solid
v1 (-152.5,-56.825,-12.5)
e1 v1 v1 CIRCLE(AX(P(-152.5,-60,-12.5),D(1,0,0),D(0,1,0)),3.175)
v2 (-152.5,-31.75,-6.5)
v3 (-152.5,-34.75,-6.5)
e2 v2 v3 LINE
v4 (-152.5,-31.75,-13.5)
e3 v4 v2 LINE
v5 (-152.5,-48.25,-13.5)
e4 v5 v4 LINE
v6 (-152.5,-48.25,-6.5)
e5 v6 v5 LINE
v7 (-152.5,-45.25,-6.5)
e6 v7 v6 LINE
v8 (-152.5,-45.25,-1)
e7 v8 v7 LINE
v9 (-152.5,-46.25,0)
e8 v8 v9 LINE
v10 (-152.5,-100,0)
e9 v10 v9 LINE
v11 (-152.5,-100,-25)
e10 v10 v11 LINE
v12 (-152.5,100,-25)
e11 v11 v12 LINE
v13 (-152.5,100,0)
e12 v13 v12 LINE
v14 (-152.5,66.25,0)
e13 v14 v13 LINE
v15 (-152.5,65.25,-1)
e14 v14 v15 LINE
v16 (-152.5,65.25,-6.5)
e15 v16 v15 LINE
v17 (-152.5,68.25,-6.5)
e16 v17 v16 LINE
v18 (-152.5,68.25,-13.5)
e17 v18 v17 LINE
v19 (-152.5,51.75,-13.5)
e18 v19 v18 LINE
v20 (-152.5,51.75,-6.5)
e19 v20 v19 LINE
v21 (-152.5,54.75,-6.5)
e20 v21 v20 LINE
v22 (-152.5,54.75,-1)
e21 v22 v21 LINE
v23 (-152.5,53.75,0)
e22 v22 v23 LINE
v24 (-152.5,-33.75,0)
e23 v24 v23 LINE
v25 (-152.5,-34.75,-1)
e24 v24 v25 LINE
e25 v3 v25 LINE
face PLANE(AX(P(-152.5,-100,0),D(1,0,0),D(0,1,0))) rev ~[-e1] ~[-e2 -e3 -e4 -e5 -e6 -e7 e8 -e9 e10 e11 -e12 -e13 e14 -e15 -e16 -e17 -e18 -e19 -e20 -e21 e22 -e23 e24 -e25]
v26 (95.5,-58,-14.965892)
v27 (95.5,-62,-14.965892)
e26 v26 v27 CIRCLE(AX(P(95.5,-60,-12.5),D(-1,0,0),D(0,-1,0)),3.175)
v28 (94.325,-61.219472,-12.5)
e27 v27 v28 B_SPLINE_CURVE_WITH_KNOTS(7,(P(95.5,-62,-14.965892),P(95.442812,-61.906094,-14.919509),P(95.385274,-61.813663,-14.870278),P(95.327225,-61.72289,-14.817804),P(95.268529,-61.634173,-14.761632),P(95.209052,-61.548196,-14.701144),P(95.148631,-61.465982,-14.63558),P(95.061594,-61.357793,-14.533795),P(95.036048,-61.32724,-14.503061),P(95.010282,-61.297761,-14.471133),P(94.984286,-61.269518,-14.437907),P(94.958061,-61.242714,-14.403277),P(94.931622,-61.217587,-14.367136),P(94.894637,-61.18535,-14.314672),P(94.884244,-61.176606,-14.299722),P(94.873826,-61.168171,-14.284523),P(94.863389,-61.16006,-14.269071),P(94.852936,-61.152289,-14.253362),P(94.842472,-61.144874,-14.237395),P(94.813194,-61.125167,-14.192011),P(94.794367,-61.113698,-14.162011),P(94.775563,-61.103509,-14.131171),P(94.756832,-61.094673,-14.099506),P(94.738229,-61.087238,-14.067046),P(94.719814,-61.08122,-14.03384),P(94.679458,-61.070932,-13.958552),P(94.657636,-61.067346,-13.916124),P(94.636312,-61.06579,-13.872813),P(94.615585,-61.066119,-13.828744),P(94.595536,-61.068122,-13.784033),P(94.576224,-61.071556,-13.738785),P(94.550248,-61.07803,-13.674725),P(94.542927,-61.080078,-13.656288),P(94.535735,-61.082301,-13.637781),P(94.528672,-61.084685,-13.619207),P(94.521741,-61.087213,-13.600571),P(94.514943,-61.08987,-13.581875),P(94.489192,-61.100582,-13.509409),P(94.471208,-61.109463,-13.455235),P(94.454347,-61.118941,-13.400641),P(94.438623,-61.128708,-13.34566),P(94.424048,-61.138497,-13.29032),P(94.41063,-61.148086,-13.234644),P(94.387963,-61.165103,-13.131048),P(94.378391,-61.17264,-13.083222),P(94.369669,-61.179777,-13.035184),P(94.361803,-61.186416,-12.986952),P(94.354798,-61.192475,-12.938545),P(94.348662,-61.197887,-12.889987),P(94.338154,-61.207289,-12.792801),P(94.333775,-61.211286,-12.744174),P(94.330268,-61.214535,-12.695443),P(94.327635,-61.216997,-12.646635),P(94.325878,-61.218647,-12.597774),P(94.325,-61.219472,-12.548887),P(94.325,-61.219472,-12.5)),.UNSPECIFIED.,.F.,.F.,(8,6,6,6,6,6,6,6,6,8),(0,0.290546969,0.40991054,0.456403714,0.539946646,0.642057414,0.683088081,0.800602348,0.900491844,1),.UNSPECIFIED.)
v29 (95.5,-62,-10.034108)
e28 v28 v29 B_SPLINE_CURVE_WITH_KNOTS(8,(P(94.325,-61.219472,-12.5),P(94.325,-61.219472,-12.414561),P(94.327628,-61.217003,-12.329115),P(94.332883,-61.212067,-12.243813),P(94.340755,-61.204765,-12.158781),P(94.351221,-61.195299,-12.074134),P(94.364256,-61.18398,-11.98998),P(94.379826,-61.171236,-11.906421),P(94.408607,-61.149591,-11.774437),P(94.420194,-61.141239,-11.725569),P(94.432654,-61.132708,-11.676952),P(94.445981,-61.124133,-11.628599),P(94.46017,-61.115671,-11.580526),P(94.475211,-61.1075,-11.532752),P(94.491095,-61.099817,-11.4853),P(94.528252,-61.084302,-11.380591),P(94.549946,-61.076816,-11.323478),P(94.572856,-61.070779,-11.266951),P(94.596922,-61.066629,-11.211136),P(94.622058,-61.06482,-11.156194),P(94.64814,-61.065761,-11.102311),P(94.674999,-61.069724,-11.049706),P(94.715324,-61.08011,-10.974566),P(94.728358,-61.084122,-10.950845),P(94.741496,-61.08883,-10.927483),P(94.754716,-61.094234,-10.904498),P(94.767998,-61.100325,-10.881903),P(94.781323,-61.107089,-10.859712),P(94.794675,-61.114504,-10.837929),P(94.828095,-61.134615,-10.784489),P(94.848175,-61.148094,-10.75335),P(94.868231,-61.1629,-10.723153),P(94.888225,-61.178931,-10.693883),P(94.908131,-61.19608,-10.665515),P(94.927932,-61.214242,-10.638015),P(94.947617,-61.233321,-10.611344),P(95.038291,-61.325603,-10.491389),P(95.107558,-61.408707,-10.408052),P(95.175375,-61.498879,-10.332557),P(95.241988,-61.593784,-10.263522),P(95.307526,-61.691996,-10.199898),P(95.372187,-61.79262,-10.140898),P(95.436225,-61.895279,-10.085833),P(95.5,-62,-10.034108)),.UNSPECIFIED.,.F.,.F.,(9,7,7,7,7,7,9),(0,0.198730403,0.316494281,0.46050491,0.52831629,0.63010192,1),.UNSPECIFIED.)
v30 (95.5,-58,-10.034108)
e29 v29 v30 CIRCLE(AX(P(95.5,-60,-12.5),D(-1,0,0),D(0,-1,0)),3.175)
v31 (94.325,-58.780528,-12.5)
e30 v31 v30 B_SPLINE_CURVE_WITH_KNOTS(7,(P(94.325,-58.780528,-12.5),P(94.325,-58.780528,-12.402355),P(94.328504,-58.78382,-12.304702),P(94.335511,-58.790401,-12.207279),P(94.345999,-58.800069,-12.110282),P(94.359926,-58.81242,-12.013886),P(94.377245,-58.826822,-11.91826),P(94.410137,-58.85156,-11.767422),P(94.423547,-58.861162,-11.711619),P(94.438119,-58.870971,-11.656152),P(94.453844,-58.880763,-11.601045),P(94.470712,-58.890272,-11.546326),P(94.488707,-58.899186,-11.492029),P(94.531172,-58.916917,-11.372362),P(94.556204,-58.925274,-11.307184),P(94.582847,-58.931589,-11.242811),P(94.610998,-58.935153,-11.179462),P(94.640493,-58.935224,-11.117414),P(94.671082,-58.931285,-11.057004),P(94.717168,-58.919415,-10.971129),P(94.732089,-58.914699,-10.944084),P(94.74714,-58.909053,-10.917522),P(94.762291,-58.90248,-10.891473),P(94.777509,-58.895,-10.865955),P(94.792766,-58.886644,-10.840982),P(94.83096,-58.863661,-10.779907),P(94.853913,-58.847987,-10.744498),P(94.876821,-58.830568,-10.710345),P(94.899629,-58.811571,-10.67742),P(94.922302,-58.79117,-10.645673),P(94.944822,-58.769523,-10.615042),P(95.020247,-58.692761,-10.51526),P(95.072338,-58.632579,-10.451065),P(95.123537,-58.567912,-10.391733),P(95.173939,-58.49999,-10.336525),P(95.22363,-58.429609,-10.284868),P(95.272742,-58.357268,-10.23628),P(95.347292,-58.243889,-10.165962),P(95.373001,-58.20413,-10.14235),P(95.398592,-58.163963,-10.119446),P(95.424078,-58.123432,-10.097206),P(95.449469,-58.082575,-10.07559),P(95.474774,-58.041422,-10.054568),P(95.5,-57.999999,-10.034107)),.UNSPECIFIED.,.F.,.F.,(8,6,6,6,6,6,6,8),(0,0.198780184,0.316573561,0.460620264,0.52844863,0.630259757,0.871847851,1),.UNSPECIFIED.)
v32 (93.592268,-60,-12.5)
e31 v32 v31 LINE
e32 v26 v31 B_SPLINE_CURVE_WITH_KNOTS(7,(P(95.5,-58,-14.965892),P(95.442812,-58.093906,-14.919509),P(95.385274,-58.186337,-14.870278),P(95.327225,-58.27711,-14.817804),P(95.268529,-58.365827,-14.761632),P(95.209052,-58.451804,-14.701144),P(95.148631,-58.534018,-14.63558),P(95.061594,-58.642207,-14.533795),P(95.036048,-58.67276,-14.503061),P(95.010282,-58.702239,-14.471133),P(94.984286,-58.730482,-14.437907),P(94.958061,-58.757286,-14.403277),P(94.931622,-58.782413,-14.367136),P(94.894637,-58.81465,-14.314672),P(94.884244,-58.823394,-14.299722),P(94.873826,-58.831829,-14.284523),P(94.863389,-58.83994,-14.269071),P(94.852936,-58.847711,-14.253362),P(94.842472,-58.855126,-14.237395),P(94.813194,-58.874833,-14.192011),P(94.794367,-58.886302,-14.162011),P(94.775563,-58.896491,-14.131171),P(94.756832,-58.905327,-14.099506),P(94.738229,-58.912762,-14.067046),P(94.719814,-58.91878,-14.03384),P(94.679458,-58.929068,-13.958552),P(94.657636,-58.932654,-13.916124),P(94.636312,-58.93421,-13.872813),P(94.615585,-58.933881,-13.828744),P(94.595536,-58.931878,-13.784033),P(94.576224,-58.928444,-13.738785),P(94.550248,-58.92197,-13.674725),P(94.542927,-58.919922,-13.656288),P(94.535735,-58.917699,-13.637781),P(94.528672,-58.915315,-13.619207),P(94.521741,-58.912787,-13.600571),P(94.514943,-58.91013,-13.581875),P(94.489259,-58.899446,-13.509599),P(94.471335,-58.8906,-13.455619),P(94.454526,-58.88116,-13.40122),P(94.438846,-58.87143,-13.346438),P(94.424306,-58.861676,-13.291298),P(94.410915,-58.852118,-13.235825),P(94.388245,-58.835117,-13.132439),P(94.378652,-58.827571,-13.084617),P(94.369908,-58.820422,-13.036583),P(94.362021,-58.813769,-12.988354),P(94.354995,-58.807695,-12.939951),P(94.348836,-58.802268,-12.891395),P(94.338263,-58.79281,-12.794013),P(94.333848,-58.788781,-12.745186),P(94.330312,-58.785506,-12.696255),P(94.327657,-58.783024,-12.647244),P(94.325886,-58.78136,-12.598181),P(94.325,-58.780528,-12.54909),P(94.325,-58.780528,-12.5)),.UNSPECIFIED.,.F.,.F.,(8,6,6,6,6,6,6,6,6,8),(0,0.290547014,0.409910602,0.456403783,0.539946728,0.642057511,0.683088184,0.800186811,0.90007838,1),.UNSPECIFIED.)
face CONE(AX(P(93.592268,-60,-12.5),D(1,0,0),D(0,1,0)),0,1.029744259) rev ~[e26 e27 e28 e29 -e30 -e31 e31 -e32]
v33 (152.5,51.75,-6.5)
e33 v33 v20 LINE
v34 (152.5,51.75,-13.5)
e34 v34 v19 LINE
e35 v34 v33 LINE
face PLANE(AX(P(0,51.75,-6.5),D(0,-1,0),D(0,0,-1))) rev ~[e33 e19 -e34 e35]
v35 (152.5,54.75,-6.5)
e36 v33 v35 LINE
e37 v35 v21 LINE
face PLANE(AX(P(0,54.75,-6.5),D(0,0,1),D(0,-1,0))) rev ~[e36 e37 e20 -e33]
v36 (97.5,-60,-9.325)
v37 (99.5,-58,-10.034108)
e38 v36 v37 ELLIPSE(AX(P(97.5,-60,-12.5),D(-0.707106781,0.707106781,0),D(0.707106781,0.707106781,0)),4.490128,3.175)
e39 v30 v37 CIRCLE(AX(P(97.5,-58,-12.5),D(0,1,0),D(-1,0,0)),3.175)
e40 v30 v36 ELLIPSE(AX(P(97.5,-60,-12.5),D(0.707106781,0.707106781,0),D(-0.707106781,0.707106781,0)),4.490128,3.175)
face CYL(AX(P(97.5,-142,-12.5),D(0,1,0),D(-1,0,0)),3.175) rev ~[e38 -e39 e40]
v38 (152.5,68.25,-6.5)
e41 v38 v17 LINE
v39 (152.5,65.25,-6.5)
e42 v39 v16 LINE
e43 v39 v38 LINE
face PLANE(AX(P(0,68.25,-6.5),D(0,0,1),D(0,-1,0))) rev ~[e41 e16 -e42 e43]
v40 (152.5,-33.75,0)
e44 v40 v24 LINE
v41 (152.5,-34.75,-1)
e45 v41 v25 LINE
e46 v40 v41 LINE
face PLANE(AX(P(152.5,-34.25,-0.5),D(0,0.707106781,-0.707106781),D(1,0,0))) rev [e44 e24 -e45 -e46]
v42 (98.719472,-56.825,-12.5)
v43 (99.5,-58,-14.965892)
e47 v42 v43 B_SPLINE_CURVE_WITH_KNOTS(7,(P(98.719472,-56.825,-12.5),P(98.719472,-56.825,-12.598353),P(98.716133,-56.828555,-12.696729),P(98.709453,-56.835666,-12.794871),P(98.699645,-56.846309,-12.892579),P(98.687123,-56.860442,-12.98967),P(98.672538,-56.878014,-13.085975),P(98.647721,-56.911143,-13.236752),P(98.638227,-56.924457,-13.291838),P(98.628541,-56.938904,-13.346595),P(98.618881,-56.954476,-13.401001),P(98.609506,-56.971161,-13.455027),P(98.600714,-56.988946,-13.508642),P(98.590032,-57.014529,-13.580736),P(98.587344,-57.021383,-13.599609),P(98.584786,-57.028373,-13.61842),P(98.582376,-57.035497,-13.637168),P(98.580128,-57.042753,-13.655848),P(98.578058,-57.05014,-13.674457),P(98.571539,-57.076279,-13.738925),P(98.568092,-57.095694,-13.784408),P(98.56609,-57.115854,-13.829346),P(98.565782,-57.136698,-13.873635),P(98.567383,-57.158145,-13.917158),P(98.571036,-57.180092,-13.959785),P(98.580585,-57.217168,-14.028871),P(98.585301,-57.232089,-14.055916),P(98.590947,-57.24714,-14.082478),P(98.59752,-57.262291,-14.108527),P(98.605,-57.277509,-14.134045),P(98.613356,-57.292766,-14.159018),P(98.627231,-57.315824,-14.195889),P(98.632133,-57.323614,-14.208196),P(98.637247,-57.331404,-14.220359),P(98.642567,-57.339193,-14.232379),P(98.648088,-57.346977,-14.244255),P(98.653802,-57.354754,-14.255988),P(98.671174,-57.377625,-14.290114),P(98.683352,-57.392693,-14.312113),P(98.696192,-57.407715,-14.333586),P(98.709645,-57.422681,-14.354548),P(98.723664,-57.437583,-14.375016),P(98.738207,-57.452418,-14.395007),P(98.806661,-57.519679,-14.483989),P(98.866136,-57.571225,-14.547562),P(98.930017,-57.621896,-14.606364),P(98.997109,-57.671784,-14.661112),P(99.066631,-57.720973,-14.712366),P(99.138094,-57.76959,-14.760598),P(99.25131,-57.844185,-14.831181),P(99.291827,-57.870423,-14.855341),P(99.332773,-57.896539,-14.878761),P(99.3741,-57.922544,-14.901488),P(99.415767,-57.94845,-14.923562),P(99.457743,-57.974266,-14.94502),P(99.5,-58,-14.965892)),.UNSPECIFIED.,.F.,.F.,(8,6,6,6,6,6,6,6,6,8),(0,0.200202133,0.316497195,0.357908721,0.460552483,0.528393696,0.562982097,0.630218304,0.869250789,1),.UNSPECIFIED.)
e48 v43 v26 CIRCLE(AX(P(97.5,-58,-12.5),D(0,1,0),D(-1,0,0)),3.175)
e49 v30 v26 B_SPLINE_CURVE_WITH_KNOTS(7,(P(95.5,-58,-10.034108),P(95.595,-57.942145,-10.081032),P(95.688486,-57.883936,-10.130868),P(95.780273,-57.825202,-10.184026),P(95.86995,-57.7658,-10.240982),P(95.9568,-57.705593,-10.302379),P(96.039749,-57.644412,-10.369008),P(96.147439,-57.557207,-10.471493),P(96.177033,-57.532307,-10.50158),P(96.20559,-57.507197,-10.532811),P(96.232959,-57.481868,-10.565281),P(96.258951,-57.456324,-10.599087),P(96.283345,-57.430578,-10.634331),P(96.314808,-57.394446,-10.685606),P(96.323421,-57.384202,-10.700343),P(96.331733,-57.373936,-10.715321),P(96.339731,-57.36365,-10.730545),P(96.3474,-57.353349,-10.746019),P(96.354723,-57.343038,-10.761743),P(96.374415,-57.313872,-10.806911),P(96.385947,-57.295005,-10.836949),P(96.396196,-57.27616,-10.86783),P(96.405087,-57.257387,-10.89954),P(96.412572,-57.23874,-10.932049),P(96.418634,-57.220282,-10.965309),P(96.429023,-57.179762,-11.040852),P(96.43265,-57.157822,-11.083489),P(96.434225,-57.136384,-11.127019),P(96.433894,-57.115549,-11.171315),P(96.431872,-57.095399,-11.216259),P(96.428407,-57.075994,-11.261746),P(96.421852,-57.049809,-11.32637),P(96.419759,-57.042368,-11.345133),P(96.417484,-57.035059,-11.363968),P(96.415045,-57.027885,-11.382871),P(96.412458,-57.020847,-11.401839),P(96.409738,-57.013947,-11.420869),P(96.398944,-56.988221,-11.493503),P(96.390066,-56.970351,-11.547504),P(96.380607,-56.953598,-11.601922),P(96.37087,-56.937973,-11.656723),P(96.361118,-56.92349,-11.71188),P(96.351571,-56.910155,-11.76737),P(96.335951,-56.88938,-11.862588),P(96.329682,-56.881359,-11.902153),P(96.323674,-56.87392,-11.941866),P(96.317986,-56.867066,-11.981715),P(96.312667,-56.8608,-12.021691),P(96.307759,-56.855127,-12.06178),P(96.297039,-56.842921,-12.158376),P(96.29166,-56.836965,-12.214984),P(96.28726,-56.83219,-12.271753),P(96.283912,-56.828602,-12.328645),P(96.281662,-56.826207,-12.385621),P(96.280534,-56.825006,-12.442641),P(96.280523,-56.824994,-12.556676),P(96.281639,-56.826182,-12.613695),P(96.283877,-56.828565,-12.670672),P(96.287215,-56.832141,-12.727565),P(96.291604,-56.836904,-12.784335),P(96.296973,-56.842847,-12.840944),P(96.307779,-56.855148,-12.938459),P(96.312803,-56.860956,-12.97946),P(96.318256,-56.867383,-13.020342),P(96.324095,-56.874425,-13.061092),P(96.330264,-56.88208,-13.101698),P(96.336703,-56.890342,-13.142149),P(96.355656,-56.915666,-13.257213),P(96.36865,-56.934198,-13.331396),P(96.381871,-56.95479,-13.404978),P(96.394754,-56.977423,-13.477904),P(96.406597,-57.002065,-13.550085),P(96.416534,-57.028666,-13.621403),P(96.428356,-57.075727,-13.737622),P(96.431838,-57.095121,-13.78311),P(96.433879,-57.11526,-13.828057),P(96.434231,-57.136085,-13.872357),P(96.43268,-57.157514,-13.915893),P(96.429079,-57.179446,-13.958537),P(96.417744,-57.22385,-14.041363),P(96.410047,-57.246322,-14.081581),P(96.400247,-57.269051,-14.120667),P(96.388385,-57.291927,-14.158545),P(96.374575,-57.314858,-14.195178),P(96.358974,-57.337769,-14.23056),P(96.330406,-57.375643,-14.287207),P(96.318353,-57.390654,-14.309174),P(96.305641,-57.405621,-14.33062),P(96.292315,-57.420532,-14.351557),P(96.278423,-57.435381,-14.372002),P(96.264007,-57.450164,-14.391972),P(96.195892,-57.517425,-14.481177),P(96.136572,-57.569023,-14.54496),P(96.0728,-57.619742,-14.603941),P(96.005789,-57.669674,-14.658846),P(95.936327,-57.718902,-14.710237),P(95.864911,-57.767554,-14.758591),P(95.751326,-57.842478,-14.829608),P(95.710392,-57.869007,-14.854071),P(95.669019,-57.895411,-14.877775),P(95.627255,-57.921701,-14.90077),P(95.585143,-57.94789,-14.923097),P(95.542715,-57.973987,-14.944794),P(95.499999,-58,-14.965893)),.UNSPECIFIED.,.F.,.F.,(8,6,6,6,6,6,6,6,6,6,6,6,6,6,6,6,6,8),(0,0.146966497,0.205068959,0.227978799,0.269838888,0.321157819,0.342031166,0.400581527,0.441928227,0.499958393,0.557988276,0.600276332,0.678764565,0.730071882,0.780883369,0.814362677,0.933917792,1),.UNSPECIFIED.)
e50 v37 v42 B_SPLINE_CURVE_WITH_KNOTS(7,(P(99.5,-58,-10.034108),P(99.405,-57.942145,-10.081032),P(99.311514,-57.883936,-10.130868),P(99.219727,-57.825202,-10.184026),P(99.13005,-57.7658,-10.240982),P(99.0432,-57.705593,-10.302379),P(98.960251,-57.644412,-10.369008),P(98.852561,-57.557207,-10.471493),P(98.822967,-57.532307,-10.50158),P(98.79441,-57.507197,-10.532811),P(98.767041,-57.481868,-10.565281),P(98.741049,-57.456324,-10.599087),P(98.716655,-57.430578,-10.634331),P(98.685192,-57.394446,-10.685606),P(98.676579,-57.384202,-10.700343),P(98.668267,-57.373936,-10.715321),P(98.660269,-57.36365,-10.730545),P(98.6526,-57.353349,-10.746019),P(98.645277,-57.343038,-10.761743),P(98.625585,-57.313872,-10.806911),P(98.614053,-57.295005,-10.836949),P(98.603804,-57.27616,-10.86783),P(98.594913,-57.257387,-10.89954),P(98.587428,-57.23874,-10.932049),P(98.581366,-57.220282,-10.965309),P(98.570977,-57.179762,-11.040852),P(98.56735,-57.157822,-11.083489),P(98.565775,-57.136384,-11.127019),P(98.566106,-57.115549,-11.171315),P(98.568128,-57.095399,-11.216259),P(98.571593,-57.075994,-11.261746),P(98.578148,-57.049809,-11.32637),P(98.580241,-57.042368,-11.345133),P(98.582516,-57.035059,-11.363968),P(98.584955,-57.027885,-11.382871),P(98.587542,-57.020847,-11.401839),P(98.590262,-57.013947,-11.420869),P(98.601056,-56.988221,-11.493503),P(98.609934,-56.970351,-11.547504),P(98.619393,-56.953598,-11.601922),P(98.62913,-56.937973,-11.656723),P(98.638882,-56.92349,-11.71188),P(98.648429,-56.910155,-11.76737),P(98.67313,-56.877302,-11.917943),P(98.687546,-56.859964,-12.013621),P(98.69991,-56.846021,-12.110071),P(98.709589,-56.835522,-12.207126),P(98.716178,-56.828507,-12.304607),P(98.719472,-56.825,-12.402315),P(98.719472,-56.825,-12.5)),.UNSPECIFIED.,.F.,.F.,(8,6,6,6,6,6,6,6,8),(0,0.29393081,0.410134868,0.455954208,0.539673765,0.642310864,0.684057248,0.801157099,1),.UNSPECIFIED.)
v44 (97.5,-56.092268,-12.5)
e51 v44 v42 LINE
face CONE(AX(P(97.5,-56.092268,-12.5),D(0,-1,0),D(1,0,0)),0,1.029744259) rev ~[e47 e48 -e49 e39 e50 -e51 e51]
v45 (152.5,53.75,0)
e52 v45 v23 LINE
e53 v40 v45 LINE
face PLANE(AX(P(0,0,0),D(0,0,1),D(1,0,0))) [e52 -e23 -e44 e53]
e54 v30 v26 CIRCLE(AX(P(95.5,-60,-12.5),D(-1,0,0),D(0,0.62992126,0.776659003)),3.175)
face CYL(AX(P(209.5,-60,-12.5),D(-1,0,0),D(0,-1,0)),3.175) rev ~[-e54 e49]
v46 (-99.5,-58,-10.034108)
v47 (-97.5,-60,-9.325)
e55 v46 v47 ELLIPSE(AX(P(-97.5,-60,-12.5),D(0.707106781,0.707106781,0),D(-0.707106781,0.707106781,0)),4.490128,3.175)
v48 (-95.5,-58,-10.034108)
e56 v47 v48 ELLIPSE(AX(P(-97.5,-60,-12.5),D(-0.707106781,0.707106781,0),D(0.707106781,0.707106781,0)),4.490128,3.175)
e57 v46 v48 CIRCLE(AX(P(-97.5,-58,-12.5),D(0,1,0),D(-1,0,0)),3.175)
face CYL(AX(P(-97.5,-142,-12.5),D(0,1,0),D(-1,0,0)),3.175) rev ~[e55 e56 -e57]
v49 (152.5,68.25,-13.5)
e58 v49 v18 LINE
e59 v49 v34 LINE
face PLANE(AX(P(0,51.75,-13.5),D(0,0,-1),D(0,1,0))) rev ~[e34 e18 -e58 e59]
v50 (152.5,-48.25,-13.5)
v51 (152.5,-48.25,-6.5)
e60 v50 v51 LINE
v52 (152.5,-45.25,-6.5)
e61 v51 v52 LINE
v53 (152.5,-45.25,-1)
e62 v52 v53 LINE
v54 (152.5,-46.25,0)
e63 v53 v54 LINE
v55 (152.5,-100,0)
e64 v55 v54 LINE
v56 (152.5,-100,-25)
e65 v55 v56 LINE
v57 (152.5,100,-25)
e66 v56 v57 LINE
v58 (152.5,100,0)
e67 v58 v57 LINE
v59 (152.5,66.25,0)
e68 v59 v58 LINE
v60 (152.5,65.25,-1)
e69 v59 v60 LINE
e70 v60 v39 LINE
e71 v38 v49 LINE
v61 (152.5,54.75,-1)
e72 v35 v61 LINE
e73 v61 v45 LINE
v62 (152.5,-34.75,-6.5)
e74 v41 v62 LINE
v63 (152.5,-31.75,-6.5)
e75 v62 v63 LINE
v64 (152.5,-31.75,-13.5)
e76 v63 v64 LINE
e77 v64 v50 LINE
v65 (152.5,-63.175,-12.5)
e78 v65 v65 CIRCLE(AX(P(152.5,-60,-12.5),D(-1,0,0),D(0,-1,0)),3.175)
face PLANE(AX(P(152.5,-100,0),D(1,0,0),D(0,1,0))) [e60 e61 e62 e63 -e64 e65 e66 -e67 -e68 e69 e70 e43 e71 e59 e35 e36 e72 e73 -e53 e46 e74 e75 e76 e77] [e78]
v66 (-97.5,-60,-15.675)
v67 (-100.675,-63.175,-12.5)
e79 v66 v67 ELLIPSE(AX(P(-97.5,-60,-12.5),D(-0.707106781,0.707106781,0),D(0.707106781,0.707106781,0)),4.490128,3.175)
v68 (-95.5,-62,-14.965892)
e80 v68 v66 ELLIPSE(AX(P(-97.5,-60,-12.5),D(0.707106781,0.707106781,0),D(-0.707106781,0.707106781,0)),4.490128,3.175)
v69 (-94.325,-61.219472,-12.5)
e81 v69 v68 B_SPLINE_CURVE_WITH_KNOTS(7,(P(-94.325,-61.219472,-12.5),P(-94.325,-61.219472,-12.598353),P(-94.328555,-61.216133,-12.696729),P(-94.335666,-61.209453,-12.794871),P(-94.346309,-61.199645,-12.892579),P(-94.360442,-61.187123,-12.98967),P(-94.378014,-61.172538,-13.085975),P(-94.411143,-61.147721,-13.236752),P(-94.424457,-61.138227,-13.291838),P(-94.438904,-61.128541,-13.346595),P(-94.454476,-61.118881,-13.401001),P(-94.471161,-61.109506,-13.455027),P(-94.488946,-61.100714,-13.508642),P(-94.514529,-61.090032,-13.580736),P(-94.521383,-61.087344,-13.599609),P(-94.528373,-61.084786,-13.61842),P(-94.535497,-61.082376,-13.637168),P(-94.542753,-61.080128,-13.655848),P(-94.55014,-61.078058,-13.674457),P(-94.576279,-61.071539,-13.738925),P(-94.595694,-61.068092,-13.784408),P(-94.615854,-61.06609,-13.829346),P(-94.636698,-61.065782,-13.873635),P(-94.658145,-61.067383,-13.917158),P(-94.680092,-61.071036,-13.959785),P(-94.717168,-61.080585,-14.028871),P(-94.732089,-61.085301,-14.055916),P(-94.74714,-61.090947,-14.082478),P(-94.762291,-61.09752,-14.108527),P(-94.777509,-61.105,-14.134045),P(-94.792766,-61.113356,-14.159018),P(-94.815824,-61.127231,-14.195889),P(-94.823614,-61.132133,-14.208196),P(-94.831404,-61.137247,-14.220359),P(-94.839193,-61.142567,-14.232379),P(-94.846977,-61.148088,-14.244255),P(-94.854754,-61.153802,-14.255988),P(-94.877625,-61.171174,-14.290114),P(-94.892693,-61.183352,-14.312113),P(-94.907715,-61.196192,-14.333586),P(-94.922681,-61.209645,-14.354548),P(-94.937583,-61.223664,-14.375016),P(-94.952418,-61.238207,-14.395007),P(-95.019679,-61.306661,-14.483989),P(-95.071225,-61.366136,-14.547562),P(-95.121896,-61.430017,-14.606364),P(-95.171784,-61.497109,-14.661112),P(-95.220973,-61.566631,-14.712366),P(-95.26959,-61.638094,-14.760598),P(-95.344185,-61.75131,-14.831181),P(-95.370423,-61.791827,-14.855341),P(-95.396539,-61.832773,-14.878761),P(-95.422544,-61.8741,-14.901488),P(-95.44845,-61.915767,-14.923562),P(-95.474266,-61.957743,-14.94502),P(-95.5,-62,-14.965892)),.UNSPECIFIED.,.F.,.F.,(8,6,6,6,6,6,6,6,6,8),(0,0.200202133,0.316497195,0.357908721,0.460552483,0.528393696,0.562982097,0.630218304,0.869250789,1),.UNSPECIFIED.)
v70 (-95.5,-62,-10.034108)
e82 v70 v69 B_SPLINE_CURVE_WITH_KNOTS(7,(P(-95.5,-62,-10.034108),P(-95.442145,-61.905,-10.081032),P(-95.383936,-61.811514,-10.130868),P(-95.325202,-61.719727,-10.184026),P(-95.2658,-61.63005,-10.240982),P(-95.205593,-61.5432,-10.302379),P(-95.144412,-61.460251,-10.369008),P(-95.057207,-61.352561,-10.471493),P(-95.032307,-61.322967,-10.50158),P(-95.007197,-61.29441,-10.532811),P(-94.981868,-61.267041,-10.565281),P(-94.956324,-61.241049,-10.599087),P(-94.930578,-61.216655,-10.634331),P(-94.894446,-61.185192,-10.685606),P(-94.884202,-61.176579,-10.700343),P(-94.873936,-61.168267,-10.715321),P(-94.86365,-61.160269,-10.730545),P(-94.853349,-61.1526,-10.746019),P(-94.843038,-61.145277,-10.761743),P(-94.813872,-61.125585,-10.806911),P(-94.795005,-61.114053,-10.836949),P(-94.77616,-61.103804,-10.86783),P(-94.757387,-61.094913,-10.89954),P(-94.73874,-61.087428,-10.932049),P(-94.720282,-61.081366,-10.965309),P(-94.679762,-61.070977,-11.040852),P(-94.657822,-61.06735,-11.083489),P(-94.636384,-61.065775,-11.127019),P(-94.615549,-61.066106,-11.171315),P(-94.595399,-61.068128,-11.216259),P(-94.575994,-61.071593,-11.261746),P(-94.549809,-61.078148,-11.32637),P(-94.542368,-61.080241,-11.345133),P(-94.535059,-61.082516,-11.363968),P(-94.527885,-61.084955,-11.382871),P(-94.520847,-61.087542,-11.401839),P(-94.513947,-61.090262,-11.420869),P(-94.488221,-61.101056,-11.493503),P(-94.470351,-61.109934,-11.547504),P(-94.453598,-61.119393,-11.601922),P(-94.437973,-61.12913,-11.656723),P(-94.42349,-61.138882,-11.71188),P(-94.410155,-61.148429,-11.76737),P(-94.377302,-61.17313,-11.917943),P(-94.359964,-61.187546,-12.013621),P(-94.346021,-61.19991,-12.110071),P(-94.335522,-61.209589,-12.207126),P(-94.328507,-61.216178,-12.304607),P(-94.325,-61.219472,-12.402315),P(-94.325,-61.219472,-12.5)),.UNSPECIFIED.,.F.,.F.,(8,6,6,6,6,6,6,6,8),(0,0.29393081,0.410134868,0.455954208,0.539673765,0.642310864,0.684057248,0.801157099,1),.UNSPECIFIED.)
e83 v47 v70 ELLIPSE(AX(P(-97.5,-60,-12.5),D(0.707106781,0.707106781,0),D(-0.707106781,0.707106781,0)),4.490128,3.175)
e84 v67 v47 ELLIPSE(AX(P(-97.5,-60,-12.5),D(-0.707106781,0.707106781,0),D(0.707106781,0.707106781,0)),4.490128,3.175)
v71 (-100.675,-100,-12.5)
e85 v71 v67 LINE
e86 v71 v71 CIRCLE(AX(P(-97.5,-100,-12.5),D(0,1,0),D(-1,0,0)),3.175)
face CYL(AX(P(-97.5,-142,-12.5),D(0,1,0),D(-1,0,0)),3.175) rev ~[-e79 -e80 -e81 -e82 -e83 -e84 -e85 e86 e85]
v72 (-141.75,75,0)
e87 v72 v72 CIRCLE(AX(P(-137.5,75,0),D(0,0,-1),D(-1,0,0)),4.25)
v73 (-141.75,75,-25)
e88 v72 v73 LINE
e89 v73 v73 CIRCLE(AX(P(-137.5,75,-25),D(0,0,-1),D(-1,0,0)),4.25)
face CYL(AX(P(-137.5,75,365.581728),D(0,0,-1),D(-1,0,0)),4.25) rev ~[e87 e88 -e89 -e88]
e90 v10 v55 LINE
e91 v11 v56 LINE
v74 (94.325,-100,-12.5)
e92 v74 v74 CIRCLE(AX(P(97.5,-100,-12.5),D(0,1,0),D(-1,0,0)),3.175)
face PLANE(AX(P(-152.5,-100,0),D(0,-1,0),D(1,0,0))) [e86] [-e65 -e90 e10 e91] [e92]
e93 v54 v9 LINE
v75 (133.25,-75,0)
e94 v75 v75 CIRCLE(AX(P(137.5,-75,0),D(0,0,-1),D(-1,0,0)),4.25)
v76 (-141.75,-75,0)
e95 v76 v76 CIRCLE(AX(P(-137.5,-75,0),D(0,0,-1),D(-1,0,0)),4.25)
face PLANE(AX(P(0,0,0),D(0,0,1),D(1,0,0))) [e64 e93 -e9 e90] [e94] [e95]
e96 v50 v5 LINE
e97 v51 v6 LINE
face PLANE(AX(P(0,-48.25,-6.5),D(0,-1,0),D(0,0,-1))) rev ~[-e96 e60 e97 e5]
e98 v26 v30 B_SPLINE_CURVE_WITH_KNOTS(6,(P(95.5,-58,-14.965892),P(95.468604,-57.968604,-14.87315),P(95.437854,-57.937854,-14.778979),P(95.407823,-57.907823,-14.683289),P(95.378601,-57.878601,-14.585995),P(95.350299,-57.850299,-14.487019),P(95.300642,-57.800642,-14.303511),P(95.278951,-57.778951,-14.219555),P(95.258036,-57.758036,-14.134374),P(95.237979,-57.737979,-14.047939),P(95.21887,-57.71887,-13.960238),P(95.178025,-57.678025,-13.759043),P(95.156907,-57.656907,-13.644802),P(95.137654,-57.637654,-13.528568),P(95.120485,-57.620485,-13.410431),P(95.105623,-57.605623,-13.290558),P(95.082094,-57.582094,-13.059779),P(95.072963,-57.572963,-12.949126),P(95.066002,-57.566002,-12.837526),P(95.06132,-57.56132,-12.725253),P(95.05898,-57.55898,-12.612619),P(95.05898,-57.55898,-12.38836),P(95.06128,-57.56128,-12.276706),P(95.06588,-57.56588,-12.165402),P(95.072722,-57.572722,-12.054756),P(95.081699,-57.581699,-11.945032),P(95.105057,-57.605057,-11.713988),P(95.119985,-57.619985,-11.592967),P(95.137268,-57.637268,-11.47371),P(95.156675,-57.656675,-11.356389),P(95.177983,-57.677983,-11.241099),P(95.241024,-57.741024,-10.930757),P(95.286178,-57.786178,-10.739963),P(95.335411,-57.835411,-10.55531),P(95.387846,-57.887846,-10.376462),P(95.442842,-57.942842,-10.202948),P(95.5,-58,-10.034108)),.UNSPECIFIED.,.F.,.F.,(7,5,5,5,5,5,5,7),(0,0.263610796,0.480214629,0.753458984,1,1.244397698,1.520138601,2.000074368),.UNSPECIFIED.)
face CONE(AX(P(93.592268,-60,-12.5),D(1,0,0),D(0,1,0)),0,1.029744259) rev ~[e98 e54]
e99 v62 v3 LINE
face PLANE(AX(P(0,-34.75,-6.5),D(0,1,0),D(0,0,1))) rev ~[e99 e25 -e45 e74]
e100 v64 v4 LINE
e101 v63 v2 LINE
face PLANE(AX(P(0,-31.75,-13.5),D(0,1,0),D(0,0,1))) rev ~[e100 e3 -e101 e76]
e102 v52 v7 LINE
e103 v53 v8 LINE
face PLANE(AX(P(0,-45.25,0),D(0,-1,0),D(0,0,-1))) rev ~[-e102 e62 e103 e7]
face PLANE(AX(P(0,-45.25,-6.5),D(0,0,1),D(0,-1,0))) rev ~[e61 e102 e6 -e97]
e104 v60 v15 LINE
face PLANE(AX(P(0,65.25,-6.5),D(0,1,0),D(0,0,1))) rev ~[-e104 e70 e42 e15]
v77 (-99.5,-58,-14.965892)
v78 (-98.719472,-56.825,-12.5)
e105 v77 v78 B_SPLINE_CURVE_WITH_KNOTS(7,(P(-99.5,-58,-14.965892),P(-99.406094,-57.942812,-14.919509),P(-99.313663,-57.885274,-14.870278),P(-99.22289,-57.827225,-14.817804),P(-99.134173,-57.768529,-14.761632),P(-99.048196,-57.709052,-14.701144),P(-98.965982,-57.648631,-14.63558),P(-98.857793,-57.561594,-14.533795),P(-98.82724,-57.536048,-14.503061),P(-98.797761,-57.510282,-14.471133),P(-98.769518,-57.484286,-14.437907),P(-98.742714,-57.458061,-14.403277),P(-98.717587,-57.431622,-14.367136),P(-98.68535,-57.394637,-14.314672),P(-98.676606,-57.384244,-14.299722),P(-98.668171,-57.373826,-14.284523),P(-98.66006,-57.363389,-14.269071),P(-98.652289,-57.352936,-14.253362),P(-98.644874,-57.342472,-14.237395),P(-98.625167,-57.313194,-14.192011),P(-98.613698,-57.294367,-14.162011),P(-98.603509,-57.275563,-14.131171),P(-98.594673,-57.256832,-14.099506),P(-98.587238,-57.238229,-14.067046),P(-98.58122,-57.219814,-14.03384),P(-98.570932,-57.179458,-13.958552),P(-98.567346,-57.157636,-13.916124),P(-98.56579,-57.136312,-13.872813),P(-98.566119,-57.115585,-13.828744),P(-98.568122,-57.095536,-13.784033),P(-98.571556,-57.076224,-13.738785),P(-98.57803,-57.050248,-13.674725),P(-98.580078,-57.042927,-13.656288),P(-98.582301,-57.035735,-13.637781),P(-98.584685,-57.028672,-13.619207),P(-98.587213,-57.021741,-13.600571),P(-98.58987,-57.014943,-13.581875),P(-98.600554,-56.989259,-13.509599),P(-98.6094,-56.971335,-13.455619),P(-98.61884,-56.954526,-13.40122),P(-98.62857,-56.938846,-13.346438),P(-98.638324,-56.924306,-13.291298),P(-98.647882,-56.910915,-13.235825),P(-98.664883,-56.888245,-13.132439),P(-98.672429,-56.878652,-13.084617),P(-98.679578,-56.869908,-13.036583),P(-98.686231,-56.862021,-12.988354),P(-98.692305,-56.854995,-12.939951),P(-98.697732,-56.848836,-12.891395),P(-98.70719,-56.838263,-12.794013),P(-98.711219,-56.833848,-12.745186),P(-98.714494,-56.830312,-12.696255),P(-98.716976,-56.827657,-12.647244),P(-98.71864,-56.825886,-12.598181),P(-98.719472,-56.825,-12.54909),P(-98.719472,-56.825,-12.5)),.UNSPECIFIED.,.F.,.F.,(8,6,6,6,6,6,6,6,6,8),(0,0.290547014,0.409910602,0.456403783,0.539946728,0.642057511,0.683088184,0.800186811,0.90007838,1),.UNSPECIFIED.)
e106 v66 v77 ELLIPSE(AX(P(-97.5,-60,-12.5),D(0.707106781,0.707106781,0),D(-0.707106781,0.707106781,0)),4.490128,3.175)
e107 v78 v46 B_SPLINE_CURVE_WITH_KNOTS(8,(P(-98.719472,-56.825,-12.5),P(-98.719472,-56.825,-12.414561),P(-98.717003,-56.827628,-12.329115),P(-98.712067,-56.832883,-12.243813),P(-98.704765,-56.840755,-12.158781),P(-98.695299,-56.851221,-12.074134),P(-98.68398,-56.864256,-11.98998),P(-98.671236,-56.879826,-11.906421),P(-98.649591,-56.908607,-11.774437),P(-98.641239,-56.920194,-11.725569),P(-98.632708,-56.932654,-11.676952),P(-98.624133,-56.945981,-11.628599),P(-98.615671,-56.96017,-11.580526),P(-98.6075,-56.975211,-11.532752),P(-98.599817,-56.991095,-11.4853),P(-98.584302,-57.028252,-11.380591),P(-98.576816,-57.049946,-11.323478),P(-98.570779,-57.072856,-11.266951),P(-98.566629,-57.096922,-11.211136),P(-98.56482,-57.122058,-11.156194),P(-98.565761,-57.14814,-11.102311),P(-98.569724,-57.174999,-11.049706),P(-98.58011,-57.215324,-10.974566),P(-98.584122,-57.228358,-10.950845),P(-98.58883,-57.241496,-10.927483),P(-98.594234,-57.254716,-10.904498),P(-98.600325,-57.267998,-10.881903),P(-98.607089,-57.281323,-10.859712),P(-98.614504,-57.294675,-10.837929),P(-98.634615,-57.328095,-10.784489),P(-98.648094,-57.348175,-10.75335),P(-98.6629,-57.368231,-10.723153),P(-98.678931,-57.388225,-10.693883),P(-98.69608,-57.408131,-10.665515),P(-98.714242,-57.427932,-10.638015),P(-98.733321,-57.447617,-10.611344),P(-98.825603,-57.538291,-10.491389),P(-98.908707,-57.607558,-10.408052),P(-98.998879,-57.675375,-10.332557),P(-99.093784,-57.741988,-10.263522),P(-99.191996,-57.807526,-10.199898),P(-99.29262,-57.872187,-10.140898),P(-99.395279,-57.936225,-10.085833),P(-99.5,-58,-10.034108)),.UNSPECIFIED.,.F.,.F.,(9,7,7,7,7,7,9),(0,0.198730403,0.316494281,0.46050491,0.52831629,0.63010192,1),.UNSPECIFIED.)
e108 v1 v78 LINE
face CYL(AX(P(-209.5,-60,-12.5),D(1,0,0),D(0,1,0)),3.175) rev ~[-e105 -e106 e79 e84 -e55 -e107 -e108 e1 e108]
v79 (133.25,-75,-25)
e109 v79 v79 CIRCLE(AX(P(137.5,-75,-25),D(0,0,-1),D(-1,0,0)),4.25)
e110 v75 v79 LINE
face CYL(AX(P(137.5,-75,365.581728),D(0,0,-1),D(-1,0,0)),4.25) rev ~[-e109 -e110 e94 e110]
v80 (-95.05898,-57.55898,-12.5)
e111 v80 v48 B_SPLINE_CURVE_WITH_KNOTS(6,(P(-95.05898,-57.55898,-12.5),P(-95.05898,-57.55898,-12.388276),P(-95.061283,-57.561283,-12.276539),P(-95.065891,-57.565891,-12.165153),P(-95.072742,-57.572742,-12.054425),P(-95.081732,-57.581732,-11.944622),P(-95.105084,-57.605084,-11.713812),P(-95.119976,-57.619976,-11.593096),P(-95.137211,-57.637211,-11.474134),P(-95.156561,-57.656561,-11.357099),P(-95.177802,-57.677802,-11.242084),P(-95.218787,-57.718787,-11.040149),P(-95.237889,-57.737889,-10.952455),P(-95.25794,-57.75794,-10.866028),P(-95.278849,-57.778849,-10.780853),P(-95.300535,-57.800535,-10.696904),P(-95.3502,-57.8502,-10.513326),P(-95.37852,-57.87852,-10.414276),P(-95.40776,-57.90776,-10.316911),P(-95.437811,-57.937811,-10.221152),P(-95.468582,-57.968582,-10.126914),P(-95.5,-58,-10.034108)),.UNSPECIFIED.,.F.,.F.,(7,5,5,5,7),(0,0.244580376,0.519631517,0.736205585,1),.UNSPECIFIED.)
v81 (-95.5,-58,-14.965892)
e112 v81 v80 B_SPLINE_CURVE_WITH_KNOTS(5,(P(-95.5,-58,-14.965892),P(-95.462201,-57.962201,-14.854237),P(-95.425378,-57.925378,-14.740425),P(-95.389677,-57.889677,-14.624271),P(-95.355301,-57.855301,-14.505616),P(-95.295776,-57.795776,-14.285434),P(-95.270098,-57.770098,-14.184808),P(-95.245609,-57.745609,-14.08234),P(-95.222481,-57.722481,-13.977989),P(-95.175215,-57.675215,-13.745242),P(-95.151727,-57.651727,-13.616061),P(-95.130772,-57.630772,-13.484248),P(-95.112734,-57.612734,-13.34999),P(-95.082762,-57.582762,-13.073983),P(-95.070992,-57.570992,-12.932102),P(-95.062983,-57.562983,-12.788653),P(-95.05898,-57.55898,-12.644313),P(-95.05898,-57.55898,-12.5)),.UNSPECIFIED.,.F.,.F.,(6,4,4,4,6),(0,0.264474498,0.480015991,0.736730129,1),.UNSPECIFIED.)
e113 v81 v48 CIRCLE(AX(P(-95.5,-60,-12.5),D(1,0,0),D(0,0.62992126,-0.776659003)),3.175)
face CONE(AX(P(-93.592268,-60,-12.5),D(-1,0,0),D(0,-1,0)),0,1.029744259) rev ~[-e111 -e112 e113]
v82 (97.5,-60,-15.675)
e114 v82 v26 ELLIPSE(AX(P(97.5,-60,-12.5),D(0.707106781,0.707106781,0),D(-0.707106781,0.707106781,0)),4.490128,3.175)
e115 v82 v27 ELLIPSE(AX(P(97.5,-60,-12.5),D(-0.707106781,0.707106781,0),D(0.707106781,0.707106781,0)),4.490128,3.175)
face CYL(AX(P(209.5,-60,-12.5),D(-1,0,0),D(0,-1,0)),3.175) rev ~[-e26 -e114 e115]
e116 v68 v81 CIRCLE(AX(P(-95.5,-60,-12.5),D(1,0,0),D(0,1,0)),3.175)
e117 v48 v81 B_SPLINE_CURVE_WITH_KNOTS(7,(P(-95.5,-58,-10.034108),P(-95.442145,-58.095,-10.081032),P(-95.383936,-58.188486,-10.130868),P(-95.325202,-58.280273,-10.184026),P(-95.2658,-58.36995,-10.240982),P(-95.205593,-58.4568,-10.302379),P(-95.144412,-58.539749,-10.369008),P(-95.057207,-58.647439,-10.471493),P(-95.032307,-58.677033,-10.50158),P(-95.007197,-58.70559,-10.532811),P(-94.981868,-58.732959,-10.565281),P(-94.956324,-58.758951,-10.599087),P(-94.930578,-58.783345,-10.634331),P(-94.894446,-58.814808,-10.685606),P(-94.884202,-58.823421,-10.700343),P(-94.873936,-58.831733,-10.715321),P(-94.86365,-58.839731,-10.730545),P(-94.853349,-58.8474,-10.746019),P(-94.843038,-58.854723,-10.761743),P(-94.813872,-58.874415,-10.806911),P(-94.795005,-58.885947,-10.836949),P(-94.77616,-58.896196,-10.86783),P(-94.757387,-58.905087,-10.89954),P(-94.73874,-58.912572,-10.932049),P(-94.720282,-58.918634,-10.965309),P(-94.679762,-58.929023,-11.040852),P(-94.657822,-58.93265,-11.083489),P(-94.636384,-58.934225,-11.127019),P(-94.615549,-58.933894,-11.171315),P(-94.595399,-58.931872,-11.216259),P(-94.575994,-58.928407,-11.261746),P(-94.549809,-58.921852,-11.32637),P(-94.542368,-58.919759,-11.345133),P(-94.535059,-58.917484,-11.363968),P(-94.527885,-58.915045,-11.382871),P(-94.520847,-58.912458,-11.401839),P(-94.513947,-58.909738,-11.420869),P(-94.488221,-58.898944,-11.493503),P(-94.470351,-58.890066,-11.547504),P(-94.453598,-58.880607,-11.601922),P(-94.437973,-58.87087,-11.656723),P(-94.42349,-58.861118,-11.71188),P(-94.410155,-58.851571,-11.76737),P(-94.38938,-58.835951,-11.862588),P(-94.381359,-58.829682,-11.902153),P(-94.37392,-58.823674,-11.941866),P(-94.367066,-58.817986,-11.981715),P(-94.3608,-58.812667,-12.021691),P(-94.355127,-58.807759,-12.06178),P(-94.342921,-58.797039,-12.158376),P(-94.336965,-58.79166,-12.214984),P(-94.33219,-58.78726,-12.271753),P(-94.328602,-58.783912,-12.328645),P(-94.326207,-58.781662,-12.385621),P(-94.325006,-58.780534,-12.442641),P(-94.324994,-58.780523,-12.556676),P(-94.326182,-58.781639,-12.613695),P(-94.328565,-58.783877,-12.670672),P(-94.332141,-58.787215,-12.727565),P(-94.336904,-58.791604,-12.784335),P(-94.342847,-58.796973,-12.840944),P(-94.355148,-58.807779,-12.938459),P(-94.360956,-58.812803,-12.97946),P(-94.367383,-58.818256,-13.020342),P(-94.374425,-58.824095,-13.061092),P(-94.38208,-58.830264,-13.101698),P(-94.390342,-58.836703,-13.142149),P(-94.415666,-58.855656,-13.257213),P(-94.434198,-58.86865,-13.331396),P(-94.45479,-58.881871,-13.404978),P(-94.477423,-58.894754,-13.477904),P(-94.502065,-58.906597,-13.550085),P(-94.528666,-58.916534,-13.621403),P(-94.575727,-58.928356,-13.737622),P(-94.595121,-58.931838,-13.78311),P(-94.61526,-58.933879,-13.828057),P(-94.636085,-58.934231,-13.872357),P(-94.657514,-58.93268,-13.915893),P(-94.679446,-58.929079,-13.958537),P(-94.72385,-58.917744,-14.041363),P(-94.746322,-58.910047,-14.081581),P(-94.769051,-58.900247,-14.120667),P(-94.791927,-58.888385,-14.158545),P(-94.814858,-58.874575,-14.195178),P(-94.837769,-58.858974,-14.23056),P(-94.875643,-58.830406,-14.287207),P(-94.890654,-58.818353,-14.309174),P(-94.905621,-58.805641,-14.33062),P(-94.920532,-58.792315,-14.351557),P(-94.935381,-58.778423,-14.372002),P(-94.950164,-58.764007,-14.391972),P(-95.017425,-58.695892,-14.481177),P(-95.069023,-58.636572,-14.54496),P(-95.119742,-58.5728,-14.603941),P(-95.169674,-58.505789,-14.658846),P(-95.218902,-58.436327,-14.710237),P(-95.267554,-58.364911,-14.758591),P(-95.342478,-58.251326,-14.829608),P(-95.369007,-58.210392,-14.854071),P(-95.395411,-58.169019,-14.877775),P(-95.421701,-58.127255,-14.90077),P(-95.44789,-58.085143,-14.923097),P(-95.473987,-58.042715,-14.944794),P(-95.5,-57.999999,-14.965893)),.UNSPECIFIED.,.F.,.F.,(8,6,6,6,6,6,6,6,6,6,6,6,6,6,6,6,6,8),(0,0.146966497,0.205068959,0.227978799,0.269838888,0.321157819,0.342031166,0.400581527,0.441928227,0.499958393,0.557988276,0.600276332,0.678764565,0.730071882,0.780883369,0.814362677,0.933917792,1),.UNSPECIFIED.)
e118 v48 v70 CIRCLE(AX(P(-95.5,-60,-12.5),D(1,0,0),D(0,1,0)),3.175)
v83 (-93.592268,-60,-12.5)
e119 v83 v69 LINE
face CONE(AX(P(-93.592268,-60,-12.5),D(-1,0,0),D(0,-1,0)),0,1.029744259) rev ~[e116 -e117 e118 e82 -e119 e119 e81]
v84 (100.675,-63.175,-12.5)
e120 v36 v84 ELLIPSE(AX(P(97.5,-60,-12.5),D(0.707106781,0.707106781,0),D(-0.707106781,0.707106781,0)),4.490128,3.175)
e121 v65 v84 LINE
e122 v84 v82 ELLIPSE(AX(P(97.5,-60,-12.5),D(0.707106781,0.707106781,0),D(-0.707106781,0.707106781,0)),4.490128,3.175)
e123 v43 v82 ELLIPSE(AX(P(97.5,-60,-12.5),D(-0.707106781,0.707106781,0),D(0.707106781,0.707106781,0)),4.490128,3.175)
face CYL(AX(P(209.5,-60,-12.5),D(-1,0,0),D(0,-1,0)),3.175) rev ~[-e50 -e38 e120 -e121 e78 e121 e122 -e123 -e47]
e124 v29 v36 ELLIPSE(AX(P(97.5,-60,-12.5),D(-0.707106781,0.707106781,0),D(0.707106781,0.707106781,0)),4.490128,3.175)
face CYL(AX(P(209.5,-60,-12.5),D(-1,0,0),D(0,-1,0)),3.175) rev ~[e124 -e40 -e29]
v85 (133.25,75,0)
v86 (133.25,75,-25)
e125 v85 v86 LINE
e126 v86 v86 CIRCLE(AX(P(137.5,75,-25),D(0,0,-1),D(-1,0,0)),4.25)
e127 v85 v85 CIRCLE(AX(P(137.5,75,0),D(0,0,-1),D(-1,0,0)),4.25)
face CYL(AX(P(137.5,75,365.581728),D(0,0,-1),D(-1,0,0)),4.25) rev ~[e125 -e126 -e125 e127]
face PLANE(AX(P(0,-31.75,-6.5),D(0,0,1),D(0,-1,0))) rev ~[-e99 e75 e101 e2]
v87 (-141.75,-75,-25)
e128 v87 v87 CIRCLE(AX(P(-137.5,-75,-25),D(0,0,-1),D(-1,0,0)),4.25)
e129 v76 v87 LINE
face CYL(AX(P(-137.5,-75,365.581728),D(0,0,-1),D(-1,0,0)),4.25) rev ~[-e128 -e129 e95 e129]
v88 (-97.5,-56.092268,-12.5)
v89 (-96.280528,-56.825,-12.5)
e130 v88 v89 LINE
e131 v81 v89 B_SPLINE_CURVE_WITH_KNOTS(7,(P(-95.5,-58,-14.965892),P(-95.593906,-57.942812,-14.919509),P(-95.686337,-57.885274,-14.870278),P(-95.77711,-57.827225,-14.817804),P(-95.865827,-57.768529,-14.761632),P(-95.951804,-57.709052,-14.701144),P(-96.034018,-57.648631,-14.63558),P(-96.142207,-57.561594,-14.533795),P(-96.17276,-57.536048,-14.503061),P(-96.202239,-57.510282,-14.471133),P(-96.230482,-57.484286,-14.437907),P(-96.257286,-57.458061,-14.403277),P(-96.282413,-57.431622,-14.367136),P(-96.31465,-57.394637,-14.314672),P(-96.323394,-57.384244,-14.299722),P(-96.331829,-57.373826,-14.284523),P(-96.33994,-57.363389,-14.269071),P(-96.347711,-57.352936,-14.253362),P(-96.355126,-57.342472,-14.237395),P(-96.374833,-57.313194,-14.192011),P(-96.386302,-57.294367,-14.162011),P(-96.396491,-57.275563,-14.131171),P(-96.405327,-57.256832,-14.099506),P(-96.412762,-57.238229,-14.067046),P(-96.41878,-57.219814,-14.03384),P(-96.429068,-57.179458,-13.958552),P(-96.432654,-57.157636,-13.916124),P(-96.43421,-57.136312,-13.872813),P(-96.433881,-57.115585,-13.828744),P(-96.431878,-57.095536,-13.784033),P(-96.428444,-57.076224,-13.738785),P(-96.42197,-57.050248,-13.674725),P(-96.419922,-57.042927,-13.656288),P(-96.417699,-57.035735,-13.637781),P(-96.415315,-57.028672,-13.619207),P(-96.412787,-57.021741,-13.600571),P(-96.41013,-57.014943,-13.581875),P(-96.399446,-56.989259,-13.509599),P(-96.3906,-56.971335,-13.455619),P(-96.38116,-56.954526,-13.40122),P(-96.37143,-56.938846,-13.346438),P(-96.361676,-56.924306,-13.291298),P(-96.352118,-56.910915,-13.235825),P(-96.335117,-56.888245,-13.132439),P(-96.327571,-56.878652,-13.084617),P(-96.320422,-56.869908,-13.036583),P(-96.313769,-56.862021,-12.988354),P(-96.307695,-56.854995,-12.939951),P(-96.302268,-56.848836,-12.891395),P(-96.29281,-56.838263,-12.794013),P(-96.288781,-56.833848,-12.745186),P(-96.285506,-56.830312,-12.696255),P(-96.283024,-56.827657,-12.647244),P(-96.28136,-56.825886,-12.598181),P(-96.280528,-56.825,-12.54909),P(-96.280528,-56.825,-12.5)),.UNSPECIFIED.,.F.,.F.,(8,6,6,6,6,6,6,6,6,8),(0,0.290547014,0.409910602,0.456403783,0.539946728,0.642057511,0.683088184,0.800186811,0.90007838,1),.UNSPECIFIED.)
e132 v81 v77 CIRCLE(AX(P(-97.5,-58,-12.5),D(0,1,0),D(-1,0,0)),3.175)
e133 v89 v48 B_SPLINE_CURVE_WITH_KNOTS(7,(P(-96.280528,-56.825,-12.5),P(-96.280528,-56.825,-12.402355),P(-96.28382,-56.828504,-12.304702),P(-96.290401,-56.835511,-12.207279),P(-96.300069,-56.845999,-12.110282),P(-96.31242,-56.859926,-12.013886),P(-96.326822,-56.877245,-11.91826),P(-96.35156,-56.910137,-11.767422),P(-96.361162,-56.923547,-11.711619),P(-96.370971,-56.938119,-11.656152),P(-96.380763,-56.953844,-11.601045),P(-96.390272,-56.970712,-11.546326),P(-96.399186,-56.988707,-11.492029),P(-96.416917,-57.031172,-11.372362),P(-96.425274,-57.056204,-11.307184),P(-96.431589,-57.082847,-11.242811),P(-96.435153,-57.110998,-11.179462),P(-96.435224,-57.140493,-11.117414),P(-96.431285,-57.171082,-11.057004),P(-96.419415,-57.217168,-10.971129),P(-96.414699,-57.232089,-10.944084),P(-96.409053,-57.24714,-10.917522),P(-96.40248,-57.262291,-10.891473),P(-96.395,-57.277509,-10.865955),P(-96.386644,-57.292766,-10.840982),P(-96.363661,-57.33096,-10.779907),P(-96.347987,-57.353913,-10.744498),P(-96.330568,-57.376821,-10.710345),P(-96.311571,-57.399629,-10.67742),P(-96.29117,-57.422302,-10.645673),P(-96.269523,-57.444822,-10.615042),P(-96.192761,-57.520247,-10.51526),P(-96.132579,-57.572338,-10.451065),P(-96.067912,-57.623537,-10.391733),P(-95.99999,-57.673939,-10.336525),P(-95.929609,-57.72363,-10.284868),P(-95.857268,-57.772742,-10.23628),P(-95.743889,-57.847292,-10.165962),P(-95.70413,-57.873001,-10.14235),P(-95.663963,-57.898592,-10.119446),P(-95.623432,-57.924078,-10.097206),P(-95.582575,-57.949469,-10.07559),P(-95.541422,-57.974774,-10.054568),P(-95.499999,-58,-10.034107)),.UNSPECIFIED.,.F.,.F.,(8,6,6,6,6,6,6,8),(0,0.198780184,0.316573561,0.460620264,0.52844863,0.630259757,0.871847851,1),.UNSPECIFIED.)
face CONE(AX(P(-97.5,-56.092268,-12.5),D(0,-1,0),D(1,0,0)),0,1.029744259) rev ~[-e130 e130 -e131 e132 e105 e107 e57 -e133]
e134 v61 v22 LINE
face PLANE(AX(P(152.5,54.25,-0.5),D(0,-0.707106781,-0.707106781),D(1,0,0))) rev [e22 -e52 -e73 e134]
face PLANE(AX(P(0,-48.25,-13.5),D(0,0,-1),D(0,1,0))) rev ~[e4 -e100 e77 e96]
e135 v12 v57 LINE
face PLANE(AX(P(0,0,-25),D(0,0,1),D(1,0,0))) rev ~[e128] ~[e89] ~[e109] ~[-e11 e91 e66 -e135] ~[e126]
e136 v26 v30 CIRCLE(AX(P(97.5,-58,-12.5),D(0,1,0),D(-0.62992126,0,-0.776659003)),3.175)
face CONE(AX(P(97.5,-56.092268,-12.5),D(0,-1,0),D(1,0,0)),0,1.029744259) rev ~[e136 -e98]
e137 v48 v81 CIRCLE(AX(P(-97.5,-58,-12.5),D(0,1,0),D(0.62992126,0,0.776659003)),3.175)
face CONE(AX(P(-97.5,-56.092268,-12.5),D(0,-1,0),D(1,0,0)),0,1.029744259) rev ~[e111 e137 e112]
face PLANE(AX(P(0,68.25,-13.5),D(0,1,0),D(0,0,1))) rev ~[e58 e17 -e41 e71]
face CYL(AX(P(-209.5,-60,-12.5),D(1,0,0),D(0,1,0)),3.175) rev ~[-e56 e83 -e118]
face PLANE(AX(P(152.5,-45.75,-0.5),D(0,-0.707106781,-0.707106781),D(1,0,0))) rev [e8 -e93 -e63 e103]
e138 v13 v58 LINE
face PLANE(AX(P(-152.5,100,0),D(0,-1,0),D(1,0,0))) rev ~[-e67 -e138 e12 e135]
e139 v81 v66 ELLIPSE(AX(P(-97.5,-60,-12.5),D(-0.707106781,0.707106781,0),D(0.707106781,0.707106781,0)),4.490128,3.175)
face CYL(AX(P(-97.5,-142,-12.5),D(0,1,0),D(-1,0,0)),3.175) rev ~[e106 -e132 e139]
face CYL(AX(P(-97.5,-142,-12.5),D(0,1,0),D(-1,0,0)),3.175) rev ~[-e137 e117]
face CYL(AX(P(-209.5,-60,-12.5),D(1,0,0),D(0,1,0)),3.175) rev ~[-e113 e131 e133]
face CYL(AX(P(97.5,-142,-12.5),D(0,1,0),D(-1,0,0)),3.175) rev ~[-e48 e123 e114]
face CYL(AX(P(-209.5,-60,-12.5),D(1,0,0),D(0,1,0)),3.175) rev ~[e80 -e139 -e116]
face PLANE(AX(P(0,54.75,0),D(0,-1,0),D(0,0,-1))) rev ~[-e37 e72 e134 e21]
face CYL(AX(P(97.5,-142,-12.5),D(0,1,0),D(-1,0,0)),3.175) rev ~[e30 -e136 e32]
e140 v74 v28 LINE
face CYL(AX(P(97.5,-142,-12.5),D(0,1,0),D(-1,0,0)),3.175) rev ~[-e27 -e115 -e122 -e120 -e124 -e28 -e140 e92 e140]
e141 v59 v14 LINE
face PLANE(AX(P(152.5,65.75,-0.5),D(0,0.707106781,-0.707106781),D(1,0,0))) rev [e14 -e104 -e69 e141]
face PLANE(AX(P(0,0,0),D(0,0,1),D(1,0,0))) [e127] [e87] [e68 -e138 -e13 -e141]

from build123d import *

# Parameters (mm, degrees)
F0_W            = 305
F0_H            = 200
F1_DEPTH        = 25
F3_D            = 8.5
F5_DEPTH        = 152.501
F5_DEPTH_BACK   = 152.501
F6_SIZE         = 1
F10_D           = 6.35
F10_DEPTH       = 42
F10_TIP         = 1.9077324654
F11_D           = 6.35
F11_DEPTH       = 57
F11_TIP         = 1.9077324654
F11_ON_F8_D     = 6.35
F11_ON_F8_DEPTH = 57
F11_ON_F8_TIP   = 1.9077324654


with BuildPart() as f1:
    # F0 (on Top) → F1 (new body)
    with BuildSketch(Plane.XY):
        Rectangle(F0_W, F0_H)
    extrude(amount=-F1_DEPTH)

    # F3 (through all)
    with Locations(Plane.XY):
        with Locations((-137.5, 75), (137.5, 75), (137.5, -75), (-137.5, -75)):
            Hole(F3_D / 2)

    # F4 (on Right) → F5 (cut, two sides)
    with BuildSketch(Plane.YZ) as f5_sk:
        Polygon((-34.75, 0), (-40, 0), (-45.25, 0), (-45.25, -6.5), (-48.25, -6.5), (-48.25, -13.5), (-40, -13.5), (-31.75, -13.5), (-31.75, -6.5), (-34.75, -6.5), align=None)
        Polygon((65.25, 0), (60, 0), (54.75, 0), (54.75, -6.5), (51.75, -6.5), (51.75, -13.5), (60, -13.5), (68.25, -13.5), (68.25, -6.5), (65.25, -6.5), align=None)
    extrude(amount=-F5_DEPTH, mode=Mode.SUBTRACT)
    extrude(f5_sk.sketch, amount=F5_DEPTH_BACK, mode=Mode.SUBTRACT)

    # F6
    f6_edges = [f1.edges().sort_by_distance(p)[0] for p in [
        (0, -34.75, 0),
        (0, -45.25, 0),
        (0, 65.25, 0),
        (0, 54.75, 0),
    ]]
    chamfer(f6_edges, length=F6_SIZE)

    # F10
    with Locations(Plane.XZ.offset(100)):
        with Locations((97.5, -12.5), (-97.5, -12.5)):
            Hole(F10_D / 2, depth=F10_DEPTH)
            with Locations((0, 0, -(F10_DEPTH + F10_TIP / 2))):  # 118° drill point
                Cone(0, F10_D / 2, F10_TIP, mode=Mode.SUBTRACT)

    # F11
    with Locations(Plane(origin=(-152.5, 0, 0), x_dir=(0, -1, 0), z_dir=(-1, 0, 0))):
        with Locations((60, -12.5)):
            Hole(F11_D / 2, depth=F11_DEPTH)
            with Locations((0, 0, -(F11_DEPTH + F11_TIP / 2))):  # 118° drill point
                Cone(0, F11_D / 2, F11_TIP, mode=Mode.SUBTRACT)

    # F11 on F8
    with Locations(Plane.YZ.offset(152.5)):
        with Locations((-60, -12.5)):
            Hole(F11_ON_F8_D / 2, depth=F11_ON_F8_DEPTH)
            with Locations((0, 0, -(F11_ON_F8_DEPTH + F11_ON_F8_TIP / 2))):  # 118° drill point
                Cone(0, F11_ON_F8_D / 2, F11_ON_F8_TIP, mode=Mode.SUBTRACT)


solid = f1.part
